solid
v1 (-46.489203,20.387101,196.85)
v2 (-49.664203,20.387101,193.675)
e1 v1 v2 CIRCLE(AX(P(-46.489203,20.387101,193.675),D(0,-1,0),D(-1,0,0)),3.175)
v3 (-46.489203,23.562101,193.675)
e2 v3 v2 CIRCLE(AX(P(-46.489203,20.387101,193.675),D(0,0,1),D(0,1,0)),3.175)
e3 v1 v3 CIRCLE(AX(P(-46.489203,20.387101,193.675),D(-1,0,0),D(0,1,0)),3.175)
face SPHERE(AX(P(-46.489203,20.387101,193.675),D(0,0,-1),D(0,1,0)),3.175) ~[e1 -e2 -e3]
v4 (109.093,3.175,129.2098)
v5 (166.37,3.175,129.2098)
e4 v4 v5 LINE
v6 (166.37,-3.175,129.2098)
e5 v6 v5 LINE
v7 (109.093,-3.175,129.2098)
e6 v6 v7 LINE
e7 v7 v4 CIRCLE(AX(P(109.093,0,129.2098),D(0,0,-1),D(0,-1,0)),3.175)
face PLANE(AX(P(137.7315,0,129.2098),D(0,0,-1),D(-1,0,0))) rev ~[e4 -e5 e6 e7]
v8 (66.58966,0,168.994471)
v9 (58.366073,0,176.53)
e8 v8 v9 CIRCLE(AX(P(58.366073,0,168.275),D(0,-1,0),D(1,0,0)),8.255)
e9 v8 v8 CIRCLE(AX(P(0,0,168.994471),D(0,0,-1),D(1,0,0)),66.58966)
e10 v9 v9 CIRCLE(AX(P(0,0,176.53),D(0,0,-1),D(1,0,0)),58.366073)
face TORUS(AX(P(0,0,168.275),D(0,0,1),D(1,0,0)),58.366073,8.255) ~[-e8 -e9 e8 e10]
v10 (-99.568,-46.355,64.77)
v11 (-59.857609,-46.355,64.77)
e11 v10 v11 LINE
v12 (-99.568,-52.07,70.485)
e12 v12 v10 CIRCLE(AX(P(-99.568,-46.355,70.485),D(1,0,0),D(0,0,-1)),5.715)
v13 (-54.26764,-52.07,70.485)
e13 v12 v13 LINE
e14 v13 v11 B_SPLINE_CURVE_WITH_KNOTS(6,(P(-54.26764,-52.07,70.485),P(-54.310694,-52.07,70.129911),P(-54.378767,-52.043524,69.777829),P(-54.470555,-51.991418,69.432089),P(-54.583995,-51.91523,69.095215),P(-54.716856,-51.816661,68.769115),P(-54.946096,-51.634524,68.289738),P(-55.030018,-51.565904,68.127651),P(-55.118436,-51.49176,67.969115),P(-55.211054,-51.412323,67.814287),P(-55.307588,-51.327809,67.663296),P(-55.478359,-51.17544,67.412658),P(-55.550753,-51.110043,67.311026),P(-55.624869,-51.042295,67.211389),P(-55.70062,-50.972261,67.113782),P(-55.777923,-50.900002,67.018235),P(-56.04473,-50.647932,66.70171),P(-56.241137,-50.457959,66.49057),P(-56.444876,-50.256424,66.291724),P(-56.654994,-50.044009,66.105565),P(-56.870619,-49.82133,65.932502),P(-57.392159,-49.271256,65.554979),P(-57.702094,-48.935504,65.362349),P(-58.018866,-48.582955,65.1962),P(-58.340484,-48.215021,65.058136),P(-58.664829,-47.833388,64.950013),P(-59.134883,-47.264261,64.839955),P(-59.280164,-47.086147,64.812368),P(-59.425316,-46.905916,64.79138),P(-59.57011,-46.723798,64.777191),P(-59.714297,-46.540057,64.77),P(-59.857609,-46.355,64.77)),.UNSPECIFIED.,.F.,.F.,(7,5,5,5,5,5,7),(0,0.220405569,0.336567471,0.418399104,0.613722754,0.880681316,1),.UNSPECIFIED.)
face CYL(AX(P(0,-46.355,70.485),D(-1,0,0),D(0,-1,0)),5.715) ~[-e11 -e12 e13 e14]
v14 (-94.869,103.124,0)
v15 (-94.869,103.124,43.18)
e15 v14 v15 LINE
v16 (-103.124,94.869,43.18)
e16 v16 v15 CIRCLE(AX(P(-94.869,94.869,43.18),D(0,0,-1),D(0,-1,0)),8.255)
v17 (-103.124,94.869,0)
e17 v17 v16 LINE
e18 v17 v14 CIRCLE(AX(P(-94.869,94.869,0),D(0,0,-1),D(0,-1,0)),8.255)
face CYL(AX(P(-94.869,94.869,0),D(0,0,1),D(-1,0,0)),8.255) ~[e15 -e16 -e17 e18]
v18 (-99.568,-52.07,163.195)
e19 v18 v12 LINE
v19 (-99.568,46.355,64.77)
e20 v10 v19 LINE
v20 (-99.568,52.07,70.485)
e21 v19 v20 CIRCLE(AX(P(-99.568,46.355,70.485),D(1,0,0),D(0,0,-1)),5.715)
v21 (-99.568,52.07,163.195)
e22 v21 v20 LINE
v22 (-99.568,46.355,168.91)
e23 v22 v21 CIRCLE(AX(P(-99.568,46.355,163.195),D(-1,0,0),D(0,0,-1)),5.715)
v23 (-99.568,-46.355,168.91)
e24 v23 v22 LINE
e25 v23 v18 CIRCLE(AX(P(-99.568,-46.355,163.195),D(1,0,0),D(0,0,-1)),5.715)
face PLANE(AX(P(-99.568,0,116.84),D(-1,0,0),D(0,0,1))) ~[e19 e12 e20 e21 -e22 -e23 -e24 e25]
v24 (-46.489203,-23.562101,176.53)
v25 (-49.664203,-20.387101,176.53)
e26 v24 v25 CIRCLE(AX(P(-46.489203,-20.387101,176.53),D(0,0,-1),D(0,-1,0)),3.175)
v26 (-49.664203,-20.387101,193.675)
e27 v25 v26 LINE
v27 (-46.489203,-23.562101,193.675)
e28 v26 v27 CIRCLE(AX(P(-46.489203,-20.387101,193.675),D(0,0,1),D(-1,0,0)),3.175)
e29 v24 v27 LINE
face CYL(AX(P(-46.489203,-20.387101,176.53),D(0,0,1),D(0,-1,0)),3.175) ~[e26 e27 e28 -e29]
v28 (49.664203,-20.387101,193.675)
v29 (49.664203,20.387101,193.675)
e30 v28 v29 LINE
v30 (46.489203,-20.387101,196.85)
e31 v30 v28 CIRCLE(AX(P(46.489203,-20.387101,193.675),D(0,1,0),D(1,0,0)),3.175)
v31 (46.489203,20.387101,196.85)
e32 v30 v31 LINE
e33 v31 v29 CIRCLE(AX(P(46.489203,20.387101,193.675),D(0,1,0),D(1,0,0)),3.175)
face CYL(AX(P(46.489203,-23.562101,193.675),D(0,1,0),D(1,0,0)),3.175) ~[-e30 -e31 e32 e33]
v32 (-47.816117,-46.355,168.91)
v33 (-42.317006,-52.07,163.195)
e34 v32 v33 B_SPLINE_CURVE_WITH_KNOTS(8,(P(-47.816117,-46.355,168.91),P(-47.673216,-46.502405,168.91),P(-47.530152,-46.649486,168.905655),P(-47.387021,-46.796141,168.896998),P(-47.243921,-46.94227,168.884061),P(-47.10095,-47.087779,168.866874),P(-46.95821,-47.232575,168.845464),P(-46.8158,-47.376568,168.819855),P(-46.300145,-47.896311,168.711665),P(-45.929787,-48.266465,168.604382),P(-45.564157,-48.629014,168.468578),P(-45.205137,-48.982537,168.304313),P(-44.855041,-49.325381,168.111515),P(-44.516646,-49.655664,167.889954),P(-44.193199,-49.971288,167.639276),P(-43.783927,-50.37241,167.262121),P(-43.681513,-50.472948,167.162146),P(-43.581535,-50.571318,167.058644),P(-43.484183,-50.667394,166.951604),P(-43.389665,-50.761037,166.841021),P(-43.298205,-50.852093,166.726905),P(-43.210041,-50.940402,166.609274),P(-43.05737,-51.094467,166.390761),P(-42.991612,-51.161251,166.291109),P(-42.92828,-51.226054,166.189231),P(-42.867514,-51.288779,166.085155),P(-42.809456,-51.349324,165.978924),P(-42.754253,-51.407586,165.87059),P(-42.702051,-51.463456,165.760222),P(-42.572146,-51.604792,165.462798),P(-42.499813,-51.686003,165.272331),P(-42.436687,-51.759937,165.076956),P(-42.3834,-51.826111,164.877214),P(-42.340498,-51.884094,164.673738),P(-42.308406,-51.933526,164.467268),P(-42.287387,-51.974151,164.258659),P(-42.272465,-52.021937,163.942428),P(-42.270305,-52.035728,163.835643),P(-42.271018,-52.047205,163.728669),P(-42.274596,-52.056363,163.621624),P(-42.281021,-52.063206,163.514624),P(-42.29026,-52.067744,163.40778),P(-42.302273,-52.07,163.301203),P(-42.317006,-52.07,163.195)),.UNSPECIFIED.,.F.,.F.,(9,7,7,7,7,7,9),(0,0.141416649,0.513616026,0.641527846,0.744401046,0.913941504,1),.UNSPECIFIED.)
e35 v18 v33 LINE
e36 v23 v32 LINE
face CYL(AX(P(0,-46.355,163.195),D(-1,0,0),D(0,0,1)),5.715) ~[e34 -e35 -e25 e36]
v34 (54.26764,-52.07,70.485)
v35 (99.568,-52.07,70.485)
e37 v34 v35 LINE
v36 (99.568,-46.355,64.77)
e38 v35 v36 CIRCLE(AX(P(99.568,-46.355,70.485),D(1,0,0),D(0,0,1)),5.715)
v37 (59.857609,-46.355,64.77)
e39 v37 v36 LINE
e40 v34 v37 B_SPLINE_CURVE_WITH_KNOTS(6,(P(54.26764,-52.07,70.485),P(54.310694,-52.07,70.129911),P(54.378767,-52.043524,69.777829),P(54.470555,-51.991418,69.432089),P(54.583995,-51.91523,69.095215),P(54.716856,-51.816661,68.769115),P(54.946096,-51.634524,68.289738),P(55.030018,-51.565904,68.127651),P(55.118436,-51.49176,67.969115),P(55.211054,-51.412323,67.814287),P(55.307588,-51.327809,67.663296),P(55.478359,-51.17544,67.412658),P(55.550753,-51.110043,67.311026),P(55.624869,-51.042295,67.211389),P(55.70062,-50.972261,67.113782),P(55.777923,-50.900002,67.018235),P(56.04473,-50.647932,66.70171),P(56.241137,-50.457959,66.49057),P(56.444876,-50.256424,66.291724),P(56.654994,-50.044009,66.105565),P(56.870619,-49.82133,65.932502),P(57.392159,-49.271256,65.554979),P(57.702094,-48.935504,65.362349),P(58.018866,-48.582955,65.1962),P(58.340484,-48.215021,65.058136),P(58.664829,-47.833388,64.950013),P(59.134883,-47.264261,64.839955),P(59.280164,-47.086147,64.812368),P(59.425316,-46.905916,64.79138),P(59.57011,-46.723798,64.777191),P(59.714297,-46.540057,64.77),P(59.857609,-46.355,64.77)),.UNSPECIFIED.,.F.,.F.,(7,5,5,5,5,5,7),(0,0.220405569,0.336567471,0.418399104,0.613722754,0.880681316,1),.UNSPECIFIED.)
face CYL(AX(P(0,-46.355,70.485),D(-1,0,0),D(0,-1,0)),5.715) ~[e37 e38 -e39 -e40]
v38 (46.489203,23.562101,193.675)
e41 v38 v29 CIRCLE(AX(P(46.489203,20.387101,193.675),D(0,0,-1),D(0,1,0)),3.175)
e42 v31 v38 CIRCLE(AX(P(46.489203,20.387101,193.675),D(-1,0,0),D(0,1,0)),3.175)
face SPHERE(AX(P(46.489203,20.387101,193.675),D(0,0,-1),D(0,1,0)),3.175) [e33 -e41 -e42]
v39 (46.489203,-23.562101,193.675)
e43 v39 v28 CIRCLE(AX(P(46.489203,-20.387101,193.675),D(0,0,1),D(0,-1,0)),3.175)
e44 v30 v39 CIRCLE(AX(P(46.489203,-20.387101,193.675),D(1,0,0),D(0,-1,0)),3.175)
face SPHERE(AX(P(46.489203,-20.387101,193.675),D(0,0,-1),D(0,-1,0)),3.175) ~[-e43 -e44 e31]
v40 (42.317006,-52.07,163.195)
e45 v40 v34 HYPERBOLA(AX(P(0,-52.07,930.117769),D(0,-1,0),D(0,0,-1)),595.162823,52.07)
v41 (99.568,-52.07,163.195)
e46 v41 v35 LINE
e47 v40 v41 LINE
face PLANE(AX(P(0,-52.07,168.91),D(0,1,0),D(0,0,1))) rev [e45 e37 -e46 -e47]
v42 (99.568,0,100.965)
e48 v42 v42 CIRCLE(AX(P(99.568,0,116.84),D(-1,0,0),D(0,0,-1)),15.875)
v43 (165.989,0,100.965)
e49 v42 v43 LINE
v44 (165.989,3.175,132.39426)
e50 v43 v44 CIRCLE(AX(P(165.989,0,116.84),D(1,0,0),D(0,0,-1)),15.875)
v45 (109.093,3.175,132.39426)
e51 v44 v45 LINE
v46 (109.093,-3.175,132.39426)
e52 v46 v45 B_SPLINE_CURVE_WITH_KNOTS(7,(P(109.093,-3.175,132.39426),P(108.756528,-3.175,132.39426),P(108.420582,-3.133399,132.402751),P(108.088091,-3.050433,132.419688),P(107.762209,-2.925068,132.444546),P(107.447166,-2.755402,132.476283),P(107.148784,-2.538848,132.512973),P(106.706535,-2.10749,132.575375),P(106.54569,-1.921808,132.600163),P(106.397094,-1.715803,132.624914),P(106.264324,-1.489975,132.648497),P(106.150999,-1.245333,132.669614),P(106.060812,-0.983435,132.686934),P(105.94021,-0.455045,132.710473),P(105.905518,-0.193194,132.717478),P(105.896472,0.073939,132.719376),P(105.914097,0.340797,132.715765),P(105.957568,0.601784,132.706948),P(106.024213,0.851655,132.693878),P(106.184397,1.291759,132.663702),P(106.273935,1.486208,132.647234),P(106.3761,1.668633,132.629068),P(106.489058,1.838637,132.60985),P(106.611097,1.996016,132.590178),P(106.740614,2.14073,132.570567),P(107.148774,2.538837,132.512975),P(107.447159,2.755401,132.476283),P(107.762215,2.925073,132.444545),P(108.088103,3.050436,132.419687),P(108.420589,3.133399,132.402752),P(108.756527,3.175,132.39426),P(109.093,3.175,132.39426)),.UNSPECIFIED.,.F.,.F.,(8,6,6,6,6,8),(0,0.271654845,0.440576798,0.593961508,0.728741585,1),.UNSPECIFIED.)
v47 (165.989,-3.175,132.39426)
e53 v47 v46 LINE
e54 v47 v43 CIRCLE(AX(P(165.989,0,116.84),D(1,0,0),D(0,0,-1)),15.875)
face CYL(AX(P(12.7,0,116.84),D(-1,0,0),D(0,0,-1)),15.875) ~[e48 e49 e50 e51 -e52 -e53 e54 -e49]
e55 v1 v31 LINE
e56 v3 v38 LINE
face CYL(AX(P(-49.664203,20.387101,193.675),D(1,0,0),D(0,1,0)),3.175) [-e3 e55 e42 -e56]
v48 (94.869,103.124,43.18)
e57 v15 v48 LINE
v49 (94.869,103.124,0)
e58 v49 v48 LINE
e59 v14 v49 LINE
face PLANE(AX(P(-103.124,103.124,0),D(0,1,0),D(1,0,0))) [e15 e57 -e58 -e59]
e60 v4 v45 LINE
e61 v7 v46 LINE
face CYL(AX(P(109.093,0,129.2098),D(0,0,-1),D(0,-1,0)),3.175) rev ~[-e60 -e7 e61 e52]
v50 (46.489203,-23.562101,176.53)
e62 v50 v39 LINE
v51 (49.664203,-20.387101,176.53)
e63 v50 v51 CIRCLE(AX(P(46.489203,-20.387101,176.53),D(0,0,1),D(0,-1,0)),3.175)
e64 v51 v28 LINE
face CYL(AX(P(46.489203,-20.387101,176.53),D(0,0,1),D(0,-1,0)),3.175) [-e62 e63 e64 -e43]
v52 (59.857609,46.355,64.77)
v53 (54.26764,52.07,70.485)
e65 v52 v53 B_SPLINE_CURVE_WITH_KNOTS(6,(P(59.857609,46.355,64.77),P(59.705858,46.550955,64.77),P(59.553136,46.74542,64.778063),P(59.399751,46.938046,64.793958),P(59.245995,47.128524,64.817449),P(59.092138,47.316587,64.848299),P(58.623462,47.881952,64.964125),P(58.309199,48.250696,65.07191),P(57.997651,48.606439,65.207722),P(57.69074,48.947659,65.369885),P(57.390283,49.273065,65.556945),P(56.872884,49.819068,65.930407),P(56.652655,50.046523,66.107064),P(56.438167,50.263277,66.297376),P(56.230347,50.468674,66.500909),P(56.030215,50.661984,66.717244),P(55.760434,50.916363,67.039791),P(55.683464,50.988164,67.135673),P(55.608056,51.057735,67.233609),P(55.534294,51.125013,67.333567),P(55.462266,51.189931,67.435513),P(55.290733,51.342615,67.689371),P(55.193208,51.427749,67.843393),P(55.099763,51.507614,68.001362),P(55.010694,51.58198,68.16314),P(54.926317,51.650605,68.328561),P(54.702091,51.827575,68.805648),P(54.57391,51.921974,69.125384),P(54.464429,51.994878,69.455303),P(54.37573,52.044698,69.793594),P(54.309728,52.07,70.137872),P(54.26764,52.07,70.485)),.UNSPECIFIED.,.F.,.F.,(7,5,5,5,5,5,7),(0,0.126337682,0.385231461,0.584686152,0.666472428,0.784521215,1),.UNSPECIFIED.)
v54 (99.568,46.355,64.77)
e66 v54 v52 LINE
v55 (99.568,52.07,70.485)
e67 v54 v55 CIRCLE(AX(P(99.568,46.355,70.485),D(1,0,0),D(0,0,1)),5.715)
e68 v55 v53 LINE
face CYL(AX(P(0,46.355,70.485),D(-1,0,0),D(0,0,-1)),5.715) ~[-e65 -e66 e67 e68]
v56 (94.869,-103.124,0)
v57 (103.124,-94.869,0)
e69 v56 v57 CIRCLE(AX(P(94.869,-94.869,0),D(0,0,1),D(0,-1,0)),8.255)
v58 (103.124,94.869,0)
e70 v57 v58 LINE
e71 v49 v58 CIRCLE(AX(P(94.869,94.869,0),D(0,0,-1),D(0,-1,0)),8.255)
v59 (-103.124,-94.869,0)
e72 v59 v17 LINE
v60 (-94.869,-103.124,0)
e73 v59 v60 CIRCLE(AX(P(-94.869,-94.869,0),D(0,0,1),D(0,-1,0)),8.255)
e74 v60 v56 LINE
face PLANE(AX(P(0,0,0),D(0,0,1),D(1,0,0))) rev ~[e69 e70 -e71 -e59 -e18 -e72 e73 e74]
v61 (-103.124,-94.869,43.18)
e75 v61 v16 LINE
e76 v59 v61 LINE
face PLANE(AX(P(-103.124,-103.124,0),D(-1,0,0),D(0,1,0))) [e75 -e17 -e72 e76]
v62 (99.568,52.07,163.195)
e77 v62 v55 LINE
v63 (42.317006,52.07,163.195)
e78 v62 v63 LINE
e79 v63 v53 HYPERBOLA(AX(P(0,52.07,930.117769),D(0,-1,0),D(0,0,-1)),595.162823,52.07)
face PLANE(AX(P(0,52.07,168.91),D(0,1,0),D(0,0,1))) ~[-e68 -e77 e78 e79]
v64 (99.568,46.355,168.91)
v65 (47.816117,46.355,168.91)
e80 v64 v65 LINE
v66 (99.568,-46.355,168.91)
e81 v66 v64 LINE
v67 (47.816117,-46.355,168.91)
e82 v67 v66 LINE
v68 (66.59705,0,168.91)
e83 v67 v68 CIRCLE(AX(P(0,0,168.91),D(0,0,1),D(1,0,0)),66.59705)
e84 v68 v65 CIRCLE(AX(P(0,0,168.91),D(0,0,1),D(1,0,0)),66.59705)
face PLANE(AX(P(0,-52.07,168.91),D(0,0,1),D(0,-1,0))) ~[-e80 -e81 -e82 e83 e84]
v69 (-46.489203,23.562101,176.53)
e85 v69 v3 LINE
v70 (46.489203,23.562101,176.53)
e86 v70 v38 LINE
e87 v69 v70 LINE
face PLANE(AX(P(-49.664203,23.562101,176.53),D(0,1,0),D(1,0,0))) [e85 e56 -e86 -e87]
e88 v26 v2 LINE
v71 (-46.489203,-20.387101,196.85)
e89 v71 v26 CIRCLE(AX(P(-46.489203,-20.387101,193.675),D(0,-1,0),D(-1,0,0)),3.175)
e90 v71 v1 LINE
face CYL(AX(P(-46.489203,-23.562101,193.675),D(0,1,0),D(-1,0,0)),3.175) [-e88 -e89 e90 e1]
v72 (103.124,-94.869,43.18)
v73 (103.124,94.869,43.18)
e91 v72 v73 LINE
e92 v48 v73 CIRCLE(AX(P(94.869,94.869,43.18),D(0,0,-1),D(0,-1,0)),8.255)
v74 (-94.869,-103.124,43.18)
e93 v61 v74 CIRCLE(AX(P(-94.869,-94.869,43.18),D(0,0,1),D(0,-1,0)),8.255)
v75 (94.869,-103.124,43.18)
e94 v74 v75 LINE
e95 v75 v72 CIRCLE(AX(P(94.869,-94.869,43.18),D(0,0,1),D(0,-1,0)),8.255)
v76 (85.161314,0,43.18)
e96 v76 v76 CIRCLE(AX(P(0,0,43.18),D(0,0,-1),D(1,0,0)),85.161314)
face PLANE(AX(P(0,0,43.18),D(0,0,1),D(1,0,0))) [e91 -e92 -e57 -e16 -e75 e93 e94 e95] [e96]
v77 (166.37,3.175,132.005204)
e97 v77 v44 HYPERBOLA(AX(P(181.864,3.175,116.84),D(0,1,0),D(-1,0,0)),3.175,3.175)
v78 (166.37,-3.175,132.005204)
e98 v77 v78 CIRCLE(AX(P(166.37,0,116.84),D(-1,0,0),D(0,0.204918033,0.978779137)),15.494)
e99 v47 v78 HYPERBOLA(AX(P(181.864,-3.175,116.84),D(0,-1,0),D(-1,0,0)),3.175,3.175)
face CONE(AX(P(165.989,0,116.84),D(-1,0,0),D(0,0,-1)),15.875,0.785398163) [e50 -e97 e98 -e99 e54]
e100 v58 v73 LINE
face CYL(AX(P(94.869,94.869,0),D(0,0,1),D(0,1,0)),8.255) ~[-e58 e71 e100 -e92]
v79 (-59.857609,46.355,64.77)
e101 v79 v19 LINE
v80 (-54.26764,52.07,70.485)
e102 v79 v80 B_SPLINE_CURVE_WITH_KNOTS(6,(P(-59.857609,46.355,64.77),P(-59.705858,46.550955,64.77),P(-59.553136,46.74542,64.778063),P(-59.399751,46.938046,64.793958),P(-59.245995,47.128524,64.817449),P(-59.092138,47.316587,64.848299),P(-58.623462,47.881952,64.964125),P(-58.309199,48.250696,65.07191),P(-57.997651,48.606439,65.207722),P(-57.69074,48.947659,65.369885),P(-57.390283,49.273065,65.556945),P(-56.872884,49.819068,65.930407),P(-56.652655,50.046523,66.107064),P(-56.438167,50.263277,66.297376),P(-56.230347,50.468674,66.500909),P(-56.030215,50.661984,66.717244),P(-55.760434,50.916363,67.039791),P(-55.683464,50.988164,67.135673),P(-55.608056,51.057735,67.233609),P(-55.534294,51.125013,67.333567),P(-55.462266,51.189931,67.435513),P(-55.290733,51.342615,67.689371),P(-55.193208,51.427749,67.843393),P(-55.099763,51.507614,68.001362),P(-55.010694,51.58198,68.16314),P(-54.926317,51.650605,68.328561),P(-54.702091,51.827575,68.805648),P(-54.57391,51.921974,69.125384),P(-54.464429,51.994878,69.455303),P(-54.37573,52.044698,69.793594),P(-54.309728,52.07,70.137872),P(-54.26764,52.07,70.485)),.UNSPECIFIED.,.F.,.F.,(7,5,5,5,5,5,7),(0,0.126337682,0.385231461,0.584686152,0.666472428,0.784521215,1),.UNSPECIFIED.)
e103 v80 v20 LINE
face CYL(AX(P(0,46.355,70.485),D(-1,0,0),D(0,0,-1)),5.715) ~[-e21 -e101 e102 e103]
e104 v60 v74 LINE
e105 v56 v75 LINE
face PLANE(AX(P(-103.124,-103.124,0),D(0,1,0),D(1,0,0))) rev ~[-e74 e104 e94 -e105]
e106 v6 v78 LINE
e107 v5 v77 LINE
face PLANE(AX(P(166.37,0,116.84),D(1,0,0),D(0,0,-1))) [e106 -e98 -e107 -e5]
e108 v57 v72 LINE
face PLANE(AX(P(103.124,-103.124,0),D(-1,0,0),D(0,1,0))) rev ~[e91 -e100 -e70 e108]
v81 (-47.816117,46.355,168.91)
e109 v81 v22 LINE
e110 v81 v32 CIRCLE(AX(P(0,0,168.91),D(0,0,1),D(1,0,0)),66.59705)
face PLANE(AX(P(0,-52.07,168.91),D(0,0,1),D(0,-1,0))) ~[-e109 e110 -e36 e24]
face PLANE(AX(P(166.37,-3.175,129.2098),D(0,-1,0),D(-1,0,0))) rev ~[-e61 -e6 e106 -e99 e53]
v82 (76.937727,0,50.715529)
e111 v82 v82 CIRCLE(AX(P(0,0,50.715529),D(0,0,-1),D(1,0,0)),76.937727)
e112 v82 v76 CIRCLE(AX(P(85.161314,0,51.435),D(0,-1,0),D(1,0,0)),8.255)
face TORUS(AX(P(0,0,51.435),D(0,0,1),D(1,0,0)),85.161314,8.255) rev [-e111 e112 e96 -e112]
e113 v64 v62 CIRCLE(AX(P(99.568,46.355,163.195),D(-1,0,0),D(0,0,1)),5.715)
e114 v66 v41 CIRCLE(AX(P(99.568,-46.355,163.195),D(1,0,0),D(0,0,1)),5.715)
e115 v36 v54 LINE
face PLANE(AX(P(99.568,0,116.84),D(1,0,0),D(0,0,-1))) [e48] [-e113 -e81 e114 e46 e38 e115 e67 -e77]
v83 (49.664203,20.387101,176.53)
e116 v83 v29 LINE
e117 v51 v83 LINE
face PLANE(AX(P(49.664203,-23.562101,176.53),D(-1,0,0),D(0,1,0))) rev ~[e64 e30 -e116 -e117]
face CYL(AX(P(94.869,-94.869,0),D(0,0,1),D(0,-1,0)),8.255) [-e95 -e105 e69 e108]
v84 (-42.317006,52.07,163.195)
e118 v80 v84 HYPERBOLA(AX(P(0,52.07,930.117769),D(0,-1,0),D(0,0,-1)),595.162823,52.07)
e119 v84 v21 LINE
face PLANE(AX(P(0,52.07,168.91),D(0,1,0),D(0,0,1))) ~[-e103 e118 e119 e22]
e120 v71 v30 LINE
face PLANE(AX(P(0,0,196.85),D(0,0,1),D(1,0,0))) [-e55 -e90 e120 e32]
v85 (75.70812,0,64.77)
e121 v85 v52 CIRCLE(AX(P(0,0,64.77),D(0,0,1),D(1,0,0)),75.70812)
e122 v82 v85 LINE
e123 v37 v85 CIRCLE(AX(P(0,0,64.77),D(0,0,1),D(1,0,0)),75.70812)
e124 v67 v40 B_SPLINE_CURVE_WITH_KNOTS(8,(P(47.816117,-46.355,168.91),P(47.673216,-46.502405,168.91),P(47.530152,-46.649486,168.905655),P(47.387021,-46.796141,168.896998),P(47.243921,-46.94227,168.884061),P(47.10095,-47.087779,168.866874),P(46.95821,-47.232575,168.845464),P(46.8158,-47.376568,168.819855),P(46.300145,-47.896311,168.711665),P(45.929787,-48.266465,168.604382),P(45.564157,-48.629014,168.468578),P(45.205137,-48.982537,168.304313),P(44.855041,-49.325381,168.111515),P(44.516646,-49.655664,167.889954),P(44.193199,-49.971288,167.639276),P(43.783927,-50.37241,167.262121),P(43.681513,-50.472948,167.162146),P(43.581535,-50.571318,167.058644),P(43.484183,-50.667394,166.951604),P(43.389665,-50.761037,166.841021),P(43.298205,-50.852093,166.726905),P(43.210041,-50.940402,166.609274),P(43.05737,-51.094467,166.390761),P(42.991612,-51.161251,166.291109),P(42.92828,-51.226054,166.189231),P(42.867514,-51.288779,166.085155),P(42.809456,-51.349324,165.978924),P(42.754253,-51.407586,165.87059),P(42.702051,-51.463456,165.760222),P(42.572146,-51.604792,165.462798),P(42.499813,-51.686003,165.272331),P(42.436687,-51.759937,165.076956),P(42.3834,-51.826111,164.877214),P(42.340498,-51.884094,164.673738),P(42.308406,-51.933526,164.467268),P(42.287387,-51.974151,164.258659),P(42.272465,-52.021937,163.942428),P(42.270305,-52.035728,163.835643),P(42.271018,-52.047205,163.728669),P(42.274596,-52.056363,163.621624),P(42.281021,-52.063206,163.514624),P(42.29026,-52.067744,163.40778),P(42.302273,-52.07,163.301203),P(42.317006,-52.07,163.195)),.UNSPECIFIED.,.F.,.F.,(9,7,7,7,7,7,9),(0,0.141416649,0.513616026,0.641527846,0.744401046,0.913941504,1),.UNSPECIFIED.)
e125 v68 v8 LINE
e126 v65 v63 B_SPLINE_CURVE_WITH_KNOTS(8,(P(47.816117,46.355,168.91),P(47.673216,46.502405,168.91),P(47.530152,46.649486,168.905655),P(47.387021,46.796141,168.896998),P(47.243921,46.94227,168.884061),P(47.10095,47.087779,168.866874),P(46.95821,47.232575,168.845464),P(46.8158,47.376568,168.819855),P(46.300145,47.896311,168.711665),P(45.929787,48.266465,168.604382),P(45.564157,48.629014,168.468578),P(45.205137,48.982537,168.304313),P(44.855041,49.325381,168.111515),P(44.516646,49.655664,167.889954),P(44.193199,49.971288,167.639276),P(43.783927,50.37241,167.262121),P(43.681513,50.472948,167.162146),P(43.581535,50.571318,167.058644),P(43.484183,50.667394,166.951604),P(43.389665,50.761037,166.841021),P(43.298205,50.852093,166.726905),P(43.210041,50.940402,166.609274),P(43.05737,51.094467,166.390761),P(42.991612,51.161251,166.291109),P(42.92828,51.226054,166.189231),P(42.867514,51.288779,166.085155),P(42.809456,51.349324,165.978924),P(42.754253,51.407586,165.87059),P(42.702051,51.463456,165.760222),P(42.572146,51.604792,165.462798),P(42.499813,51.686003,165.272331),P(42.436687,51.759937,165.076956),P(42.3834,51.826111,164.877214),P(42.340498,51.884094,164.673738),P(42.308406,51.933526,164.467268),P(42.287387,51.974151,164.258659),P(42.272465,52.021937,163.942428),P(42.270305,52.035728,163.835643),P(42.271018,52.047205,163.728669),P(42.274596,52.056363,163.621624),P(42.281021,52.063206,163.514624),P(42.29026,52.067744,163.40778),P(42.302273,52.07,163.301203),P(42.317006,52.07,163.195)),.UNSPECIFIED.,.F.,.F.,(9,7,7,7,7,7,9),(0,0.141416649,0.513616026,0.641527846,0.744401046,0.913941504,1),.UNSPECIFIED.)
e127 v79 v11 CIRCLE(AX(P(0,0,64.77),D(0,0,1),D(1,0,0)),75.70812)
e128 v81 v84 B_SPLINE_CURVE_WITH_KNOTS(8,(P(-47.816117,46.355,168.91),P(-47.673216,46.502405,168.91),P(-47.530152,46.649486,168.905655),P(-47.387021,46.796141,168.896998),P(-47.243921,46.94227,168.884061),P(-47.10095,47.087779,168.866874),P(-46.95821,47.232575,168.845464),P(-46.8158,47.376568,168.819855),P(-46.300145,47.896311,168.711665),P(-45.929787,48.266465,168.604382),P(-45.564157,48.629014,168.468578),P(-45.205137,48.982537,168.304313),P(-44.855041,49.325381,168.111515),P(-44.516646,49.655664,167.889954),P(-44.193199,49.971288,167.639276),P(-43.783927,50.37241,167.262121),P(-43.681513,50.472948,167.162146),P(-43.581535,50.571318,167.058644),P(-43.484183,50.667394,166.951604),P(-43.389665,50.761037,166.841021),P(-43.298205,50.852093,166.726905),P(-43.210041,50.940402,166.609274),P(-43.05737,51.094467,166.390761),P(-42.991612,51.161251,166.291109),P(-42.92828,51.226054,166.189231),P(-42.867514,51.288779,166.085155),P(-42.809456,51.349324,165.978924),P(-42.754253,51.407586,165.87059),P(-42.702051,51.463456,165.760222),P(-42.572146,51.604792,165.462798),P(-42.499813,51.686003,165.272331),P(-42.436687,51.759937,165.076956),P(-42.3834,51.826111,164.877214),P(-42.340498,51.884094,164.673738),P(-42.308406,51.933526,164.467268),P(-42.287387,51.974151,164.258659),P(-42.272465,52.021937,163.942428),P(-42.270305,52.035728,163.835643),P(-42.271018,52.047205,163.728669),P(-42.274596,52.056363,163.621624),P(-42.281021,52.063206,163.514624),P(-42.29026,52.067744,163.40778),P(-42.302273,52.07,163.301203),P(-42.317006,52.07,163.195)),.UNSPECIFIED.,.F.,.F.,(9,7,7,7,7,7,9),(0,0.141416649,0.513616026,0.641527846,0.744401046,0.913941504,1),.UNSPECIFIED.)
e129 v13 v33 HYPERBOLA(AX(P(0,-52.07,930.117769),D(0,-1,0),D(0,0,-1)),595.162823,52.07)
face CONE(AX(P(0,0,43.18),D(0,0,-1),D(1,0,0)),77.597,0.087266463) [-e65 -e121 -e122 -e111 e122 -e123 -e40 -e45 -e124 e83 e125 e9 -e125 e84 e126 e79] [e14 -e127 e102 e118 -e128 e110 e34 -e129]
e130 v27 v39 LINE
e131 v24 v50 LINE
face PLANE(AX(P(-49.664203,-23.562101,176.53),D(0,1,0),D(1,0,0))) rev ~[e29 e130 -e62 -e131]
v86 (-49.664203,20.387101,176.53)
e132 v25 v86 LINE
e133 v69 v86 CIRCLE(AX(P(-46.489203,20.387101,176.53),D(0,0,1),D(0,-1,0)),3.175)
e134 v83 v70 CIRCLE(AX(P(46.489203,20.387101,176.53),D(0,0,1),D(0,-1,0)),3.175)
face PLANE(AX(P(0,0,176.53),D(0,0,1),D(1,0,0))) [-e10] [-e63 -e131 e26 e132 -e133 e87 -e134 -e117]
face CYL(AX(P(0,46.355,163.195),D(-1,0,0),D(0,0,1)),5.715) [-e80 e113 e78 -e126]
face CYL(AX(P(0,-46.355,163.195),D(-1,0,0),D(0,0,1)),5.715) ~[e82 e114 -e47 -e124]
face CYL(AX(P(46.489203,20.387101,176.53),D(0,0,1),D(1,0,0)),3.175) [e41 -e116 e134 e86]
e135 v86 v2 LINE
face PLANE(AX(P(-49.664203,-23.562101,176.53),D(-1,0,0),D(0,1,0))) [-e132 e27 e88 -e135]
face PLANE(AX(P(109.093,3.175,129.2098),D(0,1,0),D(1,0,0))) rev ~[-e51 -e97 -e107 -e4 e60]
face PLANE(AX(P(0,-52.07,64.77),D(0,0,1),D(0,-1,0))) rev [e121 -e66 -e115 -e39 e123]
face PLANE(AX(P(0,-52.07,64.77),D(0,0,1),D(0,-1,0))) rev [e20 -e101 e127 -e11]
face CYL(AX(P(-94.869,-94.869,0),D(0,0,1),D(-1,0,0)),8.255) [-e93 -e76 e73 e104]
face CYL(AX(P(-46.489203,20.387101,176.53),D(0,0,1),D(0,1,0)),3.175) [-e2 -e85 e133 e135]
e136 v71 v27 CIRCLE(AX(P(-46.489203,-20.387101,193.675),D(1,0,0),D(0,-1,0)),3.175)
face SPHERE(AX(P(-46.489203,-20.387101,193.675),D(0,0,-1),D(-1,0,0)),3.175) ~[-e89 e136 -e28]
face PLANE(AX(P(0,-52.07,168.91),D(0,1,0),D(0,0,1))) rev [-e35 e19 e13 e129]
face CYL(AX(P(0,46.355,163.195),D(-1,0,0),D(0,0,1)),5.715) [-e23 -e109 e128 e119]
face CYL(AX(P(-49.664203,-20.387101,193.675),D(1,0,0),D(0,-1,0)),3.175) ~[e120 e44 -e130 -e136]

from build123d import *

# Parameters (mm, degrees)
SKETCH1_W           = 206.248
SKETCH1_H           = 206.248
C_DIM_DEPTH         = 43.18
SHAFT_START         = 12.7
SKETCH_A_R          = 15.875
SHAFT_DEPTH         = 153.67
SKETCH3_W           = 104.14
SKETCH3_H           = 104.14
BOSS_EXTRUDE3_DEPTH = 99.568
FILLET1_R           = 5.715
FILLET4_R           = 5.715
SKETCH4_R           = 77.597
BOSS_EXTRUDE4_DEPTH = 133.35
BOSS_EXTRUDE4_TAPER = 5
FILLET2_R           = 8.255
SKETCH5_W           = 99.328405226
SKETCH5_H           = 47.124202614
BOSS_EXTRUDE5_DEPTH = 20.32
CHAMFER1_SIZE       = 0.381
FILLET3_R           = 3.175
CUT_EXTRUDE_START   = 12.3698
CUT_EXTRUDE_B_DEPTH = 68.6402


with BuildPart() as part:
    # Sketch1 → C dim (new body)
    with BuildSketch(Plane.XY):
        Rectangle(SKETCH1_W, SKETCH1_H)
    extrude(amount=C_DIM_DEPTH)



with BuildPart() as body_2:
    # Sketch A → Shaft (new body)
    with BuildSketch(Plane(origin=(0, 0, 0), x_dir=(0, 0, -1), z_dir=(1, 0, 0)).offset(SHAFT_START)):
        with Locations((-116.84, 0)):
            Circle(SKETCH_A_R)
    extrude(amount=SHAFT_DEPTH)

    # Chamfer1
    chamfer1_edges = [body_2.edges().sort_by_distance(p)[0] for p in [
        (166.37, 0, 132.715),
    ]]
    chamfer(chamfer1_edges, length=CHAMFER1_SIZE)

    # Sketch6 → Cut-Extrude B (cut, through all)
    with BuildSketch(Plane.XY.offset(116.84).offset(CUT_EXTRUDE_START)):
        with BuildLine():
            Line((166.37, -3.175), (109.093, -3.175))
            ThreePointArc((109.093, -3.175), (105.918, 0), (109.093, 3.175))
            Line((109.093, 3.175), (166.37, 3.175))
            ThreePointArc((166.37, 3.175), (169.545, 0), (166.37, -3.175))
        make_face()
    extrude(amount=CUT_EXTRUDE_B_DEPTH, mode=Mode.SUBTRACT)


with BuildPart() as body_3:
    # Sketch3 → Boss-Extrude3 (new body)
    with BuildSketch(Plane(origin=(0, 0, 0), x_dir=(0, 0, -1), z_dir=(1, 0, 0))):
        with Locations((-116.84, 0)):
            Rectangle(SKETCH3_W, SKETCH3_H)
    extrude(amount=BOSS_EXTRUDE3_DEPTH)


with BuildPart() as body_4:
    # Mirror2: mirrored copy
    add(body_3.part.mirror(Plane(origin=(0, 0, 0), x_dir=(0, 0, 1), z_dir=(1, 0, 0))))

    # Fillet4
    fillet4_edges = [body_4.edges().sort_by_distance(p)[0] for p in [
        (-49.784, 52.07, 64.77),
        (-49.784, 52.07, 168.91),
        (-49.784, -52.07, 168.91),
        (-49.784, -52.07, 64.77),
    ]]
    fillet(fillet4_edges, radius=FILLET4_R)


with BuildPart() as body_3_1:
    add(body_3.part)

    # Fillet1
    fillet1_edges = [body_3_1.edges().sort_by_distance(p)[0] for p in [
        (49.784, 52.07, 64.77),
        (49.784, 52.07, 168.91),
        (49.784, -52.07, 168.91),
        (49.784, -52.07, 64.77),
    ]]
    fillet(fillet1_edges, radius=FILLET1_R)


with BuildPart() as part_1:
    add(part.part)

    add(body_3_1.part)  # Boss-Extrude4 merges body 3

    add(body_4.part)  # Boss-Extrude4 merges body 4
    # Sketch4 → Boss-Extrude4 (add)
    with BuildSketch(Plane.XY.offset(43.18)):
        Circle(SKETCH4_R)
    extrude(amount=BOSS_EXTRUDE4_DEPTH, taper=BOSS_EXTRUDE4_TAPER)

    # Fillet2
    fillet2_edges = [part_1.edges().sort_by_distance(p)[0] for p in [
        (-65.930386719, 0, 176.53),
        (-77.597, 0, 43.18),
        (-103.124, 103.124, 21.59),
        (103.124, 103.124, 21.59),
        (103.124, -103.124, 21.59),
        (-103.124, -103.124, 21.59),
    ]]
    fillet(fillet2_edges, radius=FILLET2_R)

    # Sketch5 → Boss-Extrude5 (add)
    with BuildSketch(Plane.XY.offset(176.53)):
        Rectangle(SKETCH5_W, SKETCH5_H)
    extrude(amount=BOSS_EXTRUDE5_DEPTH)

    # Fillet3
    fillet3_edges = [part_1.edges().sort_by_distance(p)[0] for p in [
        (-49.664202613, 23.562101307, 186.69),
        (-49.664202613, -23.562101307, 186.69),
        (49.664202613, -23.562101307, 186.69),
        (49.664202613, 23.562101307, 186.69),
        (0, 23.562101307, 196.85),
        (-49.664202613, 0, 196.85),
        (0, -23.562101307, 196.85),
        (49.664202613, 0, 196.85),
    ]]
    fillet(fillet3_edges, radius=FILLET3_R)

    # Combine1: union body 2
    add(body_2.part)


solid = part_1.part
